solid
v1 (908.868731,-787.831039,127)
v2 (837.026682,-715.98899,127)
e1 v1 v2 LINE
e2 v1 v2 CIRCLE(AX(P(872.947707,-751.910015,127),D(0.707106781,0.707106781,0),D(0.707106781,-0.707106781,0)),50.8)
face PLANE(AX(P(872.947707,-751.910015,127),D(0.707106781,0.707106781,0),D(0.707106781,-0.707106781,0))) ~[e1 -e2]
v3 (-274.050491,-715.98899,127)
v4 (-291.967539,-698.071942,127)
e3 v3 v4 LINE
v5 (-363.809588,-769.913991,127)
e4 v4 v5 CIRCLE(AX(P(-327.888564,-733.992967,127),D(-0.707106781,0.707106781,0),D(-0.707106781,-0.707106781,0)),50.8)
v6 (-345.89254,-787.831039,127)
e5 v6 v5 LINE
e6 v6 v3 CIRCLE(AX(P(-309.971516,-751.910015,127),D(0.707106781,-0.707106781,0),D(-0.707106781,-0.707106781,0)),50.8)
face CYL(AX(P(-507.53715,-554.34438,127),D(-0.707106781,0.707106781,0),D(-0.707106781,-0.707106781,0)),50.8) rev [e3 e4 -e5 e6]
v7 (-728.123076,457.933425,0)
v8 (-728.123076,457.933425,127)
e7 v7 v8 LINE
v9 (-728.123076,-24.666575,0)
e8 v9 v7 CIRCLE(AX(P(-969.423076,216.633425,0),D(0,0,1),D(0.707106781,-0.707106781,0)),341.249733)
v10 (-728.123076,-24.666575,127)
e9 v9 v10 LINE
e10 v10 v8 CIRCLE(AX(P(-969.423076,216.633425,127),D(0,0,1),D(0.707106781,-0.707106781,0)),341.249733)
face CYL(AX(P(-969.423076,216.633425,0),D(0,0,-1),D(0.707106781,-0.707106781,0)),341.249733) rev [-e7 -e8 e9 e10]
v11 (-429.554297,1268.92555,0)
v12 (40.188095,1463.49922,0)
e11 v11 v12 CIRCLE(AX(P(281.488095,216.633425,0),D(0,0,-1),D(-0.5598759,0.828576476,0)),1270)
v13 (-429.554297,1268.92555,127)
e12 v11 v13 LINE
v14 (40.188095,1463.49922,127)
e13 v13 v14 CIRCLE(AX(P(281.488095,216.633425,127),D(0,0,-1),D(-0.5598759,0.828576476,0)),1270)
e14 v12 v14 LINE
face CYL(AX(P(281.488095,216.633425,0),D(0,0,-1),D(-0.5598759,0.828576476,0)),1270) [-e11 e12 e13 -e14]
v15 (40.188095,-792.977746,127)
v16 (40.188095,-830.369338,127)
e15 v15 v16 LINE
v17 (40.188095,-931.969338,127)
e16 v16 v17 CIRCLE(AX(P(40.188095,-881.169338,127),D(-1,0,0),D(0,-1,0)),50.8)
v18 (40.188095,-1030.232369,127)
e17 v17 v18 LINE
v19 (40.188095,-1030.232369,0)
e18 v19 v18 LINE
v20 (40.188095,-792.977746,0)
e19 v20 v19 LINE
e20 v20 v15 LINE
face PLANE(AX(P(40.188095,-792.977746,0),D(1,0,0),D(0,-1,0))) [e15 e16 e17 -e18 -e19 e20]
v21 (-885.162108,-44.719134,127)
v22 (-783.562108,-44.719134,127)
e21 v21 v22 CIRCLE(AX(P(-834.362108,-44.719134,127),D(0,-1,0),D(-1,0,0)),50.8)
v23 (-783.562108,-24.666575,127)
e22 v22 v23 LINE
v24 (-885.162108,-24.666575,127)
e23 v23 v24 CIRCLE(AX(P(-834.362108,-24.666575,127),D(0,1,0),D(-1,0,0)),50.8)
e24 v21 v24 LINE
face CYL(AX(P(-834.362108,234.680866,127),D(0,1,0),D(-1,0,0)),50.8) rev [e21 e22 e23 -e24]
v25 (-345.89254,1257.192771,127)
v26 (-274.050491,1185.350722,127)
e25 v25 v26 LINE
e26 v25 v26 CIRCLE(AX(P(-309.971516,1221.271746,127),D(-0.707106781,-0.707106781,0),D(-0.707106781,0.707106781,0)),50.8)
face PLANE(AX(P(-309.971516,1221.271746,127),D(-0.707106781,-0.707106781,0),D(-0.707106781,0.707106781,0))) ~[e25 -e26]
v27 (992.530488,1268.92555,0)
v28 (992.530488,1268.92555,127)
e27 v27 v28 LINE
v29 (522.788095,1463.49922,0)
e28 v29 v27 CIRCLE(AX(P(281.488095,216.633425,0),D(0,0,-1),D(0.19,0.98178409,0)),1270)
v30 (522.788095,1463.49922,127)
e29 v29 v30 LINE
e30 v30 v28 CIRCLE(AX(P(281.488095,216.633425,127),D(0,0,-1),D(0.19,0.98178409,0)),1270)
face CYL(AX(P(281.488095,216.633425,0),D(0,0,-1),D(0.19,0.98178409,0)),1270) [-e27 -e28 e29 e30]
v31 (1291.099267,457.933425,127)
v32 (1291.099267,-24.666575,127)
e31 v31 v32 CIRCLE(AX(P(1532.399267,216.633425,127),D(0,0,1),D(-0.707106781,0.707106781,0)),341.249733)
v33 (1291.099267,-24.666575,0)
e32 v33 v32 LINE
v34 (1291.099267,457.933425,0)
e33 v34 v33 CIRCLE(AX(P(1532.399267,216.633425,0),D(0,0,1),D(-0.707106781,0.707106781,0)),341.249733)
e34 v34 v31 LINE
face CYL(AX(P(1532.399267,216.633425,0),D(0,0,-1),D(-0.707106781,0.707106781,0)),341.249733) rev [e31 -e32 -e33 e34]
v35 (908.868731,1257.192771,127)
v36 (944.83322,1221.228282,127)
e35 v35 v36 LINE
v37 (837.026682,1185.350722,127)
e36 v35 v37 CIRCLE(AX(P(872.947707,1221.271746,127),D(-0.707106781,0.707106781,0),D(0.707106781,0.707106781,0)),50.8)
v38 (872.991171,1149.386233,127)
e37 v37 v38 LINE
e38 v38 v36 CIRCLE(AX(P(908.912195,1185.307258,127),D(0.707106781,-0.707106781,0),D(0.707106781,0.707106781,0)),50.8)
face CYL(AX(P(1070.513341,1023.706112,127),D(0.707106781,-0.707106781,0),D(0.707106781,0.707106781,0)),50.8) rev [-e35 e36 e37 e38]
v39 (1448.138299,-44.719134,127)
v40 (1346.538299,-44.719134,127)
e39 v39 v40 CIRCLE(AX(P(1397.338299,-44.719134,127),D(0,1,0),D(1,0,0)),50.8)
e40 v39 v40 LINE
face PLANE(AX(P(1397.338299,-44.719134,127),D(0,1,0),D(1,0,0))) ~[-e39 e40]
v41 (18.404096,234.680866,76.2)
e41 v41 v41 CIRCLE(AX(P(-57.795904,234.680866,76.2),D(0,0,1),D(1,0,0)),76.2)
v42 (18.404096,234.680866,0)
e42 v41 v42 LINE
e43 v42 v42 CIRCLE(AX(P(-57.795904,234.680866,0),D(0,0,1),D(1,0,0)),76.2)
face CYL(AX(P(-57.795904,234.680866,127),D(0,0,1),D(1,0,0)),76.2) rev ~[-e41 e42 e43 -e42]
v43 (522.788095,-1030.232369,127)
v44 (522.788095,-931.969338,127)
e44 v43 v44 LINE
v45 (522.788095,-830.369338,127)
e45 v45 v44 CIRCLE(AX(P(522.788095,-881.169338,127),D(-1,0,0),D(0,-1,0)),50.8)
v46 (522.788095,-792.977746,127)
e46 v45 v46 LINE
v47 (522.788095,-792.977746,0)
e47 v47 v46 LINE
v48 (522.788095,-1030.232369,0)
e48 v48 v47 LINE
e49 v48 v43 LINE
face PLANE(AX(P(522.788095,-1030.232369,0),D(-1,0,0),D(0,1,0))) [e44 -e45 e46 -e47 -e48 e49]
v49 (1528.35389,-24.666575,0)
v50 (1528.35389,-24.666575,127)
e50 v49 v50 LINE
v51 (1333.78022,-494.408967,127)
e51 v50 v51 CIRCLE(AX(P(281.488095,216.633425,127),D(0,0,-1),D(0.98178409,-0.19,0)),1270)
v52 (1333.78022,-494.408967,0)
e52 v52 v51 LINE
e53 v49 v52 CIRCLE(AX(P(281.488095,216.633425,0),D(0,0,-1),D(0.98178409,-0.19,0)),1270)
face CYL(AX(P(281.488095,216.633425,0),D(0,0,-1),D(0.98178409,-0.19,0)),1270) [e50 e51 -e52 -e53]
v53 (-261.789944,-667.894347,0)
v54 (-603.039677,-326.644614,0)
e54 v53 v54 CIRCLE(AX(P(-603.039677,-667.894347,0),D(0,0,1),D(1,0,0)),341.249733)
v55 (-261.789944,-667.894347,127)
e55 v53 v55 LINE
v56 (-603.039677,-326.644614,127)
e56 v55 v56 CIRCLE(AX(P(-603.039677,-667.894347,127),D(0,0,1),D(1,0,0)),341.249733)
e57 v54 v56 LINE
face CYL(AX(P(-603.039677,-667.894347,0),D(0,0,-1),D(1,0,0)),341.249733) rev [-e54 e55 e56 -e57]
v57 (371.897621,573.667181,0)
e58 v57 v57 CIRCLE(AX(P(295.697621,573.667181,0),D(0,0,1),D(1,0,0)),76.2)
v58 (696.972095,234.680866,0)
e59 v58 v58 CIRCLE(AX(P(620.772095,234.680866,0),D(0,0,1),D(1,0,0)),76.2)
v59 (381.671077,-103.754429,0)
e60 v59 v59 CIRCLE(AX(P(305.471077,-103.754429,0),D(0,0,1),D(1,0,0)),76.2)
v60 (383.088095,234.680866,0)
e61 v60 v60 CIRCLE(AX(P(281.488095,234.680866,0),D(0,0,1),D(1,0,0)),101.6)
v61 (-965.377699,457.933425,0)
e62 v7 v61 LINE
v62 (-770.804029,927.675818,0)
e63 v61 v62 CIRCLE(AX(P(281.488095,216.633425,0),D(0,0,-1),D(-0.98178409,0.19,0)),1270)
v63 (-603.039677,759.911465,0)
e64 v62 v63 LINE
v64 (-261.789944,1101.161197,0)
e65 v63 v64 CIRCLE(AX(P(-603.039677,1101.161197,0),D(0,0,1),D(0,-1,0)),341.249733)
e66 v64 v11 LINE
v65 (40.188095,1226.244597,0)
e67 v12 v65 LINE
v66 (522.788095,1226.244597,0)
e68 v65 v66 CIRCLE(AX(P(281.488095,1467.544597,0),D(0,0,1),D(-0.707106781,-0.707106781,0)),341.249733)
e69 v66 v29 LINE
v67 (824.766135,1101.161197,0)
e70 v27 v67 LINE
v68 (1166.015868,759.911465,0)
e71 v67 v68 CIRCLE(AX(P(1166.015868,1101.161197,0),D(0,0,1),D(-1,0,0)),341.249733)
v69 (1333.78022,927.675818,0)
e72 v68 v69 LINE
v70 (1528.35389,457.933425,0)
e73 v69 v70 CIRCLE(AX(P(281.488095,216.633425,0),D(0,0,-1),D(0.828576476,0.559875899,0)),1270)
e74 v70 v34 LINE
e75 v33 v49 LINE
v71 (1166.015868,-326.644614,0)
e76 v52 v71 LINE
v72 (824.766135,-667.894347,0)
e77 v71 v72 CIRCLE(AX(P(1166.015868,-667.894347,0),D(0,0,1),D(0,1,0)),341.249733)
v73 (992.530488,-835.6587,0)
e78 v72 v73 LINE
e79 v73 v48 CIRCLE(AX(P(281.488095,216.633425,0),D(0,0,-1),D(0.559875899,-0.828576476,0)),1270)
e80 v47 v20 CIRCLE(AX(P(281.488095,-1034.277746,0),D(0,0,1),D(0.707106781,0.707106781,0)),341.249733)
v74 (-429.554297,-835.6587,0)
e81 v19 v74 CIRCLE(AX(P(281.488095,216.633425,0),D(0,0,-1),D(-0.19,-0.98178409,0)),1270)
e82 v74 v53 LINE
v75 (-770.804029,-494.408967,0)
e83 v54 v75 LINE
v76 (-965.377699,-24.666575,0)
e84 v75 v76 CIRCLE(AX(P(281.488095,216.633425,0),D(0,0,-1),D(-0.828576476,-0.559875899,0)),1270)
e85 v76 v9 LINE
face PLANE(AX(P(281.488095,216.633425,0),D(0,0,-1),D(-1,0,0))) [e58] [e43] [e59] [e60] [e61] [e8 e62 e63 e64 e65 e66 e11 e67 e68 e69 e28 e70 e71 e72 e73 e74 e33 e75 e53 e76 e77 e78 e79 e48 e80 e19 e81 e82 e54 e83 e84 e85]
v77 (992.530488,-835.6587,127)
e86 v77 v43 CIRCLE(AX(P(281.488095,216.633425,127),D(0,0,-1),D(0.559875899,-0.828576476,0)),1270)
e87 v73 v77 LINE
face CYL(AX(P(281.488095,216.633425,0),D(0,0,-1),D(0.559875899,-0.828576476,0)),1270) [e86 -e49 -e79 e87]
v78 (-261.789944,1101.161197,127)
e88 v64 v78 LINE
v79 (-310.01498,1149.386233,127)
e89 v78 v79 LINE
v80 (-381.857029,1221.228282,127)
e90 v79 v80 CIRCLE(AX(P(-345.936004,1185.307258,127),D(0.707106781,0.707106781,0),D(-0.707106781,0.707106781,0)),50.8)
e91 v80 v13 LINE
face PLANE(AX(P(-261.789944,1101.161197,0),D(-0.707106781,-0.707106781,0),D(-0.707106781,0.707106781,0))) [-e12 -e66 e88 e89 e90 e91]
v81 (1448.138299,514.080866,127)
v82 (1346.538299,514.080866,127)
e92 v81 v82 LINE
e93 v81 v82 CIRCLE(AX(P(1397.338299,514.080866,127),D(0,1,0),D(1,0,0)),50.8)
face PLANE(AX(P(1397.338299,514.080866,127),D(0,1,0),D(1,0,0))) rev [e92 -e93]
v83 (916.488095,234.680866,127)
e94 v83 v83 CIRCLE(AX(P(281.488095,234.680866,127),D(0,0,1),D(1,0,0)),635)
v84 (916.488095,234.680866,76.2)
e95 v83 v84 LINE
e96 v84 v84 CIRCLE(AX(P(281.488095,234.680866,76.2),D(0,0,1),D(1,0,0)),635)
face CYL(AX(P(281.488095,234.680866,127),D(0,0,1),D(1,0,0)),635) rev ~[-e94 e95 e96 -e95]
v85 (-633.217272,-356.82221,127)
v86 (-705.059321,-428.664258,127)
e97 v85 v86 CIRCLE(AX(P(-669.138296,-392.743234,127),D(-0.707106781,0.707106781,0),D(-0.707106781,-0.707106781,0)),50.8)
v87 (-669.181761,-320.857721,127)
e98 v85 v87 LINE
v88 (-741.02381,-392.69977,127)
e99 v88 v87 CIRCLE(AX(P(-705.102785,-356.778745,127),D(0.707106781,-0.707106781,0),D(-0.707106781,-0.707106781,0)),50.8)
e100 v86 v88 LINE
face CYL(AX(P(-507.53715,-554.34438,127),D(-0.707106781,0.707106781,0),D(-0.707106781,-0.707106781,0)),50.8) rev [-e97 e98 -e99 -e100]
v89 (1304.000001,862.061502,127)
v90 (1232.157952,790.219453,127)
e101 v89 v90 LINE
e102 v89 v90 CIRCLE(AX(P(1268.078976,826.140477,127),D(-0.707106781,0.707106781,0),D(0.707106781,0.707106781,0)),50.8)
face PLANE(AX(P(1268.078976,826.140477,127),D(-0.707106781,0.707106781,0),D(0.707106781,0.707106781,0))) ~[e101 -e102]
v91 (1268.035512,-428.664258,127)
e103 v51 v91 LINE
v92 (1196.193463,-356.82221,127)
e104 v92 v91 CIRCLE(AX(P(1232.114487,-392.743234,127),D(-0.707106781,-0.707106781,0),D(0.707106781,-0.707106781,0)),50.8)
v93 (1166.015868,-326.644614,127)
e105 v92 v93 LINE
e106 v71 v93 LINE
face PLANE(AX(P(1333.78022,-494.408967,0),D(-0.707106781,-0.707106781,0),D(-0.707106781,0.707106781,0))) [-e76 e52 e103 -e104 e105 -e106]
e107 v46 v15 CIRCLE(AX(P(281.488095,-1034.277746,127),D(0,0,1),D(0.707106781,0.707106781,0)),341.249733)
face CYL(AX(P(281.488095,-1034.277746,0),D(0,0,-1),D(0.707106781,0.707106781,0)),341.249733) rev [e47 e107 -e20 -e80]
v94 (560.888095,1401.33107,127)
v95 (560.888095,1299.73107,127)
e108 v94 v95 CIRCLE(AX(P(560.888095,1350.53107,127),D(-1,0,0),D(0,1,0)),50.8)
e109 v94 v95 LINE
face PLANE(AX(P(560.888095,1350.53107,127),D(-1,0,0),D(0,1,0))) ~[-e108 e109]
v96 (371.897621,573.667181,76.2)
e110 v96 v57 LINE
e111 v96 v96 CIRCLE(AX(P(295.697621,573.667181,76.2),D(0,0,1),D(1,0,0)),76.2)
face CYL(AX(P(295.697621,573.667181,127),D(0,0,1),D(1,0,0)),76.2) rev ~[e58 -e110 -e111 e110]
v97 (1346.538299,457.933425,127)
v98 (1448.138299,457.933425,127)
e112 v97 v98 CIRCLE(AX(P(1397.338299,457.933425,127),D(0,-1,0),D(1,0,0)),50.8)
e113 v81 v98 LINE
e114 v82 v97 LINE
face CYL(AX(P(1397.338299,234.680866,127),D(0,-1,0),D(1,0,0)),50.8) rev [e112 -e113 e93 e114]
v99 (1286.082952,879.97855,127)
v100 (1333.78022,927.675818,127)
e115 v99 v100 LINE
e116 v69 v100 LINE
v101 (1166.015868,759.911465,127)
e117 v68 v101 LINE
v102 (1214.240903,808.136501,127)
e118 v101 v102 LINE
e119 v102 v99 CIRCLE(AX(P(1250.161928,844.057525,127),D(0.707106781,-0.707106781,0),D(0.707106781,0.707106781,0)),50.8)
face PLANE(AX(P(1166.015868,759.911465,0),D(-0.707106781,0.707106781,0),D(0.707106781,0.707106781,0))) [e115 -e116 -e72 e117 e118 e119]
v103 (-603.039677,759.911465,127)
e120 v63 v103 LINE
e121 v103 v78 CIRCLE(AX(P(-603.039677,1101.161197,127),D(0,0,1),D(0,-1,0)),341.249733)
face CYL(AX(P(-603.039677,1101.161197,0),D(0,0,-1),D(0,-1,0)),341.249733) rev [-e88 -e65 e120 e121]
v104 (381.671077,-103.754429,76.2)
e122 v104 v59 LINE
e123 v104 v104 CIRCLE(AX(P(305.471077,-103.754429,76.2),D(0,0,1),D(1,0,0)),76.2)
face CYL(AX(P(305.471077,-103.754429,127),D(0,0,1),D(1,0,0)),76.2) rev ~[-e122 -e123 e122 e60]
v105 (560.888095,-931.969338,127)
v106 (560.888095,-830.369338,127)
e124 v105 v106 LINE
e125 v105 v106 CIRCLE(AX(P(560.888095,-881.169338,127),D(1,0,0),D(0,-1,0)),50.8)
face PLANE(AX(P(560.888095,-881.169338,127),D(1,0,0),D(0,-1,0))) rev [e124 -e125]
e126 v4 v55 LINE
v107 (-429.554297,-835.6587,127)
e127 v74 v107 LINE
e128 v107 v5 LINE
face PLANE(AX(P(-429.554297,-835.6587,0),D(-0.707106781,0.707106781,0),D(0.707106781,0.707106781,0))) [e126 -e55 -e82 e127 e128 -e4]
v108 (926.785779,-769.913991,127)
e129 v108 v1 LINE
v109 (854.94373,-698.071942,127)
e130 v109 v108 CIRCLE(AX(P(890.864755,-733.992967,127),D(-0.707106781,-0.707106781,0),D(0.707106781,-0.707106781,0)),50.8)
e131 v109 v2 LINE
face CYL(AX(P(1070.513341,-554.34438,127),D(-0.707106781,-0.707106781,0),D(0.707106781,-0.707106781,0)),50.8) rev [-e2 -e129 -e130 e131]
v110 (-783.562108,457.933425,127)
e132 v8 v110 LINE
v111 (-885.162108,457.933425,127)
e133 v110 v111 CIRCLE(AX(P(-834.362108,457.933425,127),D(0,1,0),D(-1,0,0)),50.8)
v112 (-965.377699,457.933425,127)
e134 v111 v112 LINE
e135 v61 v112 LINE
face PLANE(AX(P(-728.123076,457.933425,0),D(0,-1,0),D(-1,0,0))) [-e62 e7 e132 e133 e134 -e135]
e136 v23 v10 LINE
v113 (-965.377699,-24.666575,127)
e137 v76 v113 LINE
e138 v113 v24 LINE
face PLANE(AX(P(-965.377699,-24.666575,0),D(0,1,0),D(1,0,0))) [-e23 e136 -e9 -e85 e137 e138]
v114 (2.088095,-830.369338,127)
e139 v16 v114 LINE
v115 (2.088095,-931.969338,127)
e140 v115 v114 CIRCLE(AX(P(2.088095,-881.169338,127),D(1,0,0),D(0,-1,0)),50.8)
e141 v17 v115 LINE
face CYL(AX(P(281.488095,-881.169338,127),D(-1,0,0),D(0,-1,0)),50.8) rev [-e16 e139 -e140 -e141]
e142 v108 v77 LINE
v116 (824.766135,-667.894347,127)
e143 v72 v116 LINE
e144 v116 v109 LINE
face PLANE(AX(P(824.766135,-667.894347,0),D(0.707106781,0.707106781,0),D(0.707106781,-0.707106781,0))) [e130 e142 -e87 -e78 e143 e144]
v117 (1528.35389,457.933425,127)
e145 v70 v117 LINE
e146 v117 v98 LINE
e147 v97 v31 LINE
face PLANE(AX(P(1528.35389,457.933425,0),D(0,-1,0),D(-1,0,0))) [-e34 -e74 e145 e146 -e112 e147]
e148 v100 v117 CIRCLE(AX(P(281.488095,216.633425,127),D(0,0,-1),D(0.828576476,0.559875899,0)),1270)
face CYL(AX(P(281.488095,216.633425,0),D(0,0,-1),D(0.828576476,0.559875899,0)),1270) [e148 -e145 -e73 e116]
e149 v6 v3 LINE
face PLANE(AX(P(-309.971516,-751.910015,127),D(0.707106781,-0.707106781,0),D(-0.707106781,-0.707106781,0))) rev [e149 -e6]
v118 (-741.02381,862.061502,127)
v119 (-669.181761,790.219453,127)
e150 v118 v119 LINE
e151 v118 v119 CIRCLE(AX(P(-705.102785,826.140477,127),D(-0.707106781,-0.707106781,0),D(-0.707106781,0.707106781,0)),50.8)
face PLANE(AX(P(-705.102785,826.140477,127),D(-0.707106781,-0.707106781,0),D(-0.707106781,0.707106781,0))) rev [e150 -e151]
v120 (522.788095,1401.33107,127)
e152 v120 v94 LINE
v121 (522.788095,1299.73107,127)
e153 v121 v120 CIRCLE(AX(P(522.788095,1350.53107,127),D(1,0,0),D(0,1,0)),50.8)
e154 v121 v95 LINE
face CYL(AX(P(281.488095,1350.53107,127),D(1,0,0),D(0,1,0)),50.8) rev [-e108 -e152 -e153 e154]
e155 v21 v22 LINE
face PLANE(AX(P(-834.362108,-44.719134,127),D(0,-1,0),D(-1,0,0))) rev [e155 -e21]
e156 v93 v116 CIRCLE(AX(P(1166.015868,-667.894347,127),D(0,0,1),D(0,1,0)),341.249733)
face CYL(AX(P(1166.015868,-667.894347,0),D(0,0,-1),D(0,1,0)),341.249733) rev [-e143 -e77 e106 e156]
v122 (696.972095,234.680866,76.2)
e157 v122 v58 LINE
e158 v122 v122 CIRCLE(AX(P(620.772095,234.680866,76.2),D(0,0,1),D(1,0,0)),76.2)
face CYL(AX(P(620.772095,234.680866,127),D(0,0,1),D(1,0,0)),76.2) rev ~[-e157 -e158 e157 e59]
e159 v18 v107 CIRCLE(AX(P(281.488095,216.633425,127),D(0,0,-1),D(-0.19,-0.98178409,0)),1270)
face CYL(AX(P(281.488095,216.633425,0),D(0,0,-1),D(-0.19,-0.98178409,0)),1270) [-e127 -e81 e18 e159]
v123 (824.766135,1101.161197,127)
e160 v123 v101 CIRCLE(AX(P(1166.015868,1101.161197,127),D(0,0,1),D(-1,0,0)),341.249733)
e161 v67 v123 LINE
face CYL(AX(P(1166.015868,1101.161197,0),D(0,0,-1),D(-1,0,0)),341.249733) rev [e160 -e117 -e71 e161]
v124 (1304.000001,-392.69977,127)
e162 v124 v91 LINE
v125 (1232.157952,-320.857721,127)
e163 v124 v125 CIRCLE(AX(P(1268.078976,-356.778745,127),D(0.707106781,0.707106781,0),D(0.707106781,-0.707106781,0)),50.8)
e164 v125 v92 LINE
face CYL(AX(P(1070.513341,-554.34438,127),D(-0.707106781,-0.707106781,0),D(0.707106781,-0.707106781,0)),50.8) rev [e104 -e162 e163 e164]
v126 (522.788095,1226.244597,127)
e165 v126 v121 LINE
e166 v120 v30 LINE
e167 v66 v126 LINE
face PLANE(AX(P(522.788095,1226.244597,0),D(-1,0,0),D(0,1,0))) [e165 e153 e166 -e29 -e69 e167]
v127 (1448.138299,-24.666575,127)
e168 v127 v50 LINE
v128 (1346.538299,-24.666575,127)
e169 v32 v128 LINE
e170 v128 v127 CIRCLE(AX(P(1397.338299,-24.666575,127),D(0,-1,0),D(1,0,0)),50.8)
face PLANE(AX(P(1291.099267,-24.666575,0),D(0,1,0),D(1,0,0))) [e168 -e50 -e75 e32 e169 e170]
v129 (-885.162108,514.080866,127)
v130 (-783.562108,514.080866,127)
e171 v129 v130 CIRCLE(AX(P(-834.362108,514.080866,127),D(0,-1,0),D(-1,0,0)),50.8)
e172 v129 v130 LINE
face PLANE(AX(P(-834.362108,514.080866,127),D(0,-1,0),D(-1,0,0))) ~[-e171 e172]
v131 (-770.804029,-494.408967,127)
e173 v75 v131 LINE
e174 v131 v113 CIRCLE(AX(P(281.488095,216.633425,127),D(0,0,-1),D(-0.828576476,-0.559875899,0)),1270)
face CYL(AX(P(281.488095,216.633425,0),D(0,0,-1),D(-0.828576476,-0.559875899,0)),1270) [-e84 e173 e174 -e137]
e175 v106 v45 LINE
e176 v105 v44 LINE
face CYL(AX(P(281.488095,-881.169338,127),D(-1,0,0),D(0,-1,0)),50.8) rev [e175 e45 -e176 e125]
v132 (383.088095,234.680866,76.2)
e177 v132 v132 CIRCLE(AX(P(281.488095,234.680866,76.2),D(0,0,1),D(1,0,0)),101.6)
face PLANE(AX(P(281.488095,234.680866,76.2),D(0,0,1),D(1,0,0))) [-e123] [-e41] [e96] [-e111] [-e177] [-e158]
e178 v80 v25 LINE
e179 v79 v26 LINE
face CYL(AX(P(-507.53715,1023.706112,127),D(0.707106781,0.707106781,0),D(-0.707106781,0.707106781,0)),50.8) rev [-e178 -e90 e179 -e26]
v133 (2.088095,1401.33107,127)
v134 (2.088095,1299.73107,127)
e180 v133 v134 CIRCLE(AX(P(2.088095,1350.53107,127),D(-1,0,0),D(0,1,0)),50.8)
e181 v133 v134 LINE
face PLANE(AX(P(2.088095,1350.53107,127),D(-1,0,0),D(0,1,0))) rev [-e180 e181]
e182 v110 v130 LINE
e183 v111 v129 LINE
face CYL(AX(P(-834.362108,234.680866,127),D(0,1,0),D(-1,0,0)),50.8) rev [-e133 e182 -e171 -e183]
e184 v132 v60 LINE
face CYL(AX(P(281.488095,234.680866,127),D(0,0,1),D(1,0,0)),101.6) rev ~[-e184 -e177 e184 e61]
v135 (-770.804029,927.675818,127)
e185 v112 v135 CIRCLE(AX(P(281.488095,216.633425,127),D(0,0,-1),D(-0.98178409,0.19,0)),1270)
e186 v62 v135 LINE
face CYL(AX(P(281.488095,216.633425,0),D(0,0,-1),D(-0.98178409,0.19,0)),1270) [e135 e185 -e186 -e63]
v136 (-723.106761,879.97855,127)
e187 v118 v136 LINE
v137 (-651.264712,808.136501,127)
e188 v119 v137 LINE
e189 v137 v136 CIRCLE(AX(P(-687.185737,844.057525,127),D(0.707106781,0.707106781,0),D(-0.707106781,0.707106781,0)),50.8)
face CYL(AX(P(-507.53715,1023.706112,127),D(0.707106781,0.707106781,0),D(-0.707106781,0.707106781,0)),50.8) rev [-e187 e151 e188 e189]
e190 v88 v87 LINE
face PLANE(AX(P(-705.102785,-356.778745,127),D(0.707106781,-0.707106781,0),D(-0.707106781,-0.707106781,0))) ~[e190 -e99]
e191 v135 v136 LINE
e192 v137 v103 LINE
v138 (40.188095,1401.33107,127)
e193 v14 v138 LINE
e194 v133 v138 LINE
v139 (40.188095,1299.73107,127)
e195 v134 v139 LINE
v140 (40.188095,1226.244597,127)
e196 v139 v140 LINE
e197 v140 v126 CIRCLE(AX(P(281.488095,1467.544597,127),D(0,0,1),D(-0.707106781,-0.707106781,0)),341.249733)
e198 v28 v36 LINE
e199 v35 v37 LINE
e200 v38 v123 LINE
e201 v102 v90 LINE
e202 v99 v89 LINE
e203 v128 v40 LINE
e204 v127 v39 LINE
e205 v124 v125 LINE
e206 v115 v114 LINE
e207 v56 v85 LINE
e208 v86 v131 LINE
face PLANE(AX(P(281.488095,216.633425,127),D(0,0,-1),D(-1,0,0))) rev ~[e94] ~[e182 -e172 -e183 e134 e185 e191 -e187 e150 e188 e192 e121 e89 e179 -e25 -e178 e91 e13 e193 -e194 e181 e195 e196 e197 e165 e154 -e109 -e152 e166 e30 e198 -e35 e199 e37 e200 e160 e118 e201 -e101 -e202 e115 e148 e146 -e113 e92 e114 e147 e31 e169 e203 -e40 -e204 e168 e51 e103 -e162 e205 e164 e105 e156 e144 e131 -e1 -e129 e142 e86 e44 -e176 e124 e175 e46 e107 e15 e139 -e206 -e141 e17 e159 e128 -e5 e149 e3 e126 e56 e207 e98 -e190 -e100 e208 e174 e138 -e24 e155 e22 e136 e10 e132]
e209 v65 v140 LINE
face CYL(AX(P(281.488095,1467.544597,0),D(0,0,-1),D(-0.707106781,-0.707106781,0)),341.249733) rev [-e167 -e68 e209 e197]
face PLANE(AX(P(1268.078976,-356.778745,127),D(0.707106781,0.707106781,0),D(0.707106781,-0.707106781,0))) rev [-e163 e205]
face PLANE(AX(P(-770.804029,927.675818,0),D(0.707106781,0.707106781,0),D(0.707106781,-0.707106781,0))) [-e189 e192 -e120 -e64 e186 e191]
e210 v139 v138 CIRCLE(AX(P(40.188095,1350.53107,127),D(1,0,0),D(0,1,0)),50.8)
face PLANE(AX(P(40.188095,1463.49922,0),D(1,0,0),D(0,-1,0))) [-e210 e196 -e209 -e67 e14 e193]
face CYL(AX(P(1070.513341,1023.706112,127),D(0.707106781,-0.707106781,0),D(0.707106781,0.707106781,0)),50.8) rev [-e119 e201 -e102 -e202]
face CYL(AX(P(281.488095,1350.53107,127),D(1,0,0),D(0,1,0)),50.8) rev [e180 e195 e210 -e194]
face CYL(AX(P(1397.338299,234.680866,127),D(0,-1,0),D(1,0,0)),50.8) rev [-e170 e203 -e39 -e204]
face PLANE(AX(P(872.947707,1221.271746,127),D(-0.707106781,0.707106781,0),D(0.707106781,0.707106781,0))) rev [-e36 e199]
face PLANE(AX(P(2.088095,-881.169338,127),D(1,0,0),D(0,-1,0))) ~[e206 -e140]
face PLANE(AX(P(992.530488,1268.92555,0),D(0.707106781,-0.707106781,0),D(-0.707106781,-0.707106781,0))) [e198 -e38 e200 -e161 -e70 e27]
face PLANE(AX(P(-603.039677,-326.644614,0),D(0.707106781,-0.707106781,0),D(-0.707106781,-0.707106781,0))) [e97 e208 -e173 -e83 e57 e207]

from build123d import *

# Parameters (mm, degrees)
BOSS_EXTRUDE3_DEPTH = 127
SKETCH8_R           = 76.2
SKETCH8_R_2         = 101.6
CUT_EXTRUDE1_DEPTH  = 127
SKETCH9_R           = 635
CUT_EXTRUDE2_DEPTH  = 50.8
SKETCH11_W          = 558.8
SKETCH11_H          = 50.8
CIRPATTERN1_COUNT   = 8


with BuildPart() as part:
    # Sketch6 → Boss-Extrude3 (new body)
    with BuildSketch(Plane.XY):
        with BuildLine():
            Line((40.188095474, 1463.499220044), (40.188095474, 1226.244596849))
            ThreePointArc((40.188095474, 1226.244596849), (281.488095474, 1126.294864248), (522.788095474, 1226.244596849))
            Line((522.788095474, 1226.244596849), (522.788095474, 1463.499220044))
            ThreePointArc((522.788095474, 1463.499220044), (767.496054577, 1389.960431631), (992.530487837, 1268.925550305))
            Line((992.530487837, 1268.925550305), (824.766134908, 1101.161197376))
            ThreePointArc((824.766134908, 1101.161197376), (924.715867509, 859.861197376), (1166.015867509, 759.911464776))
            Line((1166.015867509, 759.911464776), (1333.780220438, 927.675817705))
            ThreePointArc((1333.780220438, 927.675817705), (1454.815101763, 702.641384445), (1528.353890176, 457.933425341))
            Line((1528.353890176, 457.933425341), (1291.099266981, 457.933425341))
            ThreePointArc((1291.099266981, 457.933425341), (1191.149534381, 216.633425341), (1291.099266981, -24.666574659))
            Line((1291.099266981, -24.666574659), (1528.353890176, -24.666574659))
            ThreePointArc((1528.353890176, -24.666574659), (1454.815101763, -269.374533762), (1333.780220438, -494.408967022))
            Line((1333.780220438, -494.408967022), (1166.015867509, -326.644614093))
            ThreePointArc((1166.015867509, -326.644614093), (924.715867509, -426.594346694), (824.766134908, -667.894346694))
            Line((824.766134908, -667.894346694), (992.530487837, -835.658699623))
            ThreePointArc((992.530487837, -835.658699623), (767.496054577, -956.693580948), (522.788095474, -1030.232369362))
            Line((522.788095474, -1030.232369362), (522.788095474, -792.977746166))
            ThreePointArc((522.788095474, -792.977746166), (281.488095474, -693.028013566), (40.188095474, -792.977746166))
            Line((40.188095474, -792.977746166), (40.188095474, -1030.232369362))
            ThreePointArc((40.188095474, -1030.232369362), (-204.51986363, -956.693580948), (-429.55429689, -835.658699623))
            Line((-429.55429689, -835.658699623), (-261.789943961, -667.894346694))
            ThreePointArc((-261.789943961, -667.894346694), (-361.739676561, -426.594346694), (-603.039676561, -326.644614093))
            Line((-603.039676561, -326.644614093), (-770.804029491, -494.408967022))
            ThreePointArc((-770.804029491, -494.408967022), (-891.838910816, -269.374533762), (-965.377699229, -24.666574659))
            Line((-965.377699229, -24.666574659), (-728.123076034, -24.666574659))
            ThreePointArc((-728.123076034, -24.666574659), (-628.173343433, 216.633425341), (-728.123076034, 457.933425341))
            Line((-728.123076034, 457.933425341), (-965.377699229, 457.933425341))
            ThreePointArc((-965.377699229, 457.933425341), (-891.838910816, 702.641384445), (-770.804029491, 927.675817705))
            Line((-770.804029491, 927.675817705), (-603.039676561, 759.911464776))
            ThreePointArc((-603.039676561, 759.911464776), (-361.739676561, 859.861197376), (-261.789943961, 1101.161197376))
            Line((-261.789943961, 1101.161197376), (-429.55429689, 1268.925550305))
            ThreePointArc((-429.55429689, 1268.925550305), (-204.51986363, 1389.960431631), (40.188095474, 1463.499220044))
        make_face()
    extrude(amount=BOSS_EXTRUDE3_DEPTH)

    # Sketch8 → Cut-Extrude1 (cut)
    with BuildSketch(Plane.XY.offset(127)):
        with Locations((295.6976207, 573.667181043)):
            Circle(SKETCH8_R)
        with Locations((305.471077412, -103.754429489)):
            Circle(SKETCH8_R)
        with Locations((-57.795904333, 234.680865806)):
            Circle(SKETCH8_R)
        with Locations((620.77209528, 234.680865806)):
            Circle(SKETCH8_R)
        with Locations((281.488095474, 234.680865806)):
            Circle(SKETCH8_R_2)
    extrude(amount=-CUT_EXTRUDE1_DEPTH, mode=Mode.SUBTRACT)

    # Sketch9 → Cut-Extrude2 (cut)
    with BuildSketch(Plane.XY.offset(127)):
        with Locations((281.488095474, 234.680865806)):
            Circle(SKETCH9_R)
    extrude(amount=-CUT_EXTRUDE2_DEPTH, mode=Mode.SUBTRACT)

    # Sketch11 → Cut-Revolve1 (revolve, cut)
    with BuildSketch(Plane.XY.offset(127)):
        with Locations((281.488095474, 1375.931069595)):
            Rectangle(SKETCH11_W, SKETCH11_H)
    cut_revolve1 = revolve(axis=Axis((560.888095474, 1350.531069595, 127), (-1, 0, 0)), mode=Mode.SUBTRACT)

    # CirPattern1: Cut-Revolve1 ×8 about axis
    cirpattern1_axis = Axis((281.488095474, 234.680865806, 0), (0, 0, 1))
    for i in range(1, CIRPATTERN1_COUNT):
        add(cut_revolve1.rotate(cirpattern1_axis, i * 360 / CIRPATTERN1_COUNT), mode=Mode.SUBTRACT)


solid = part.part
